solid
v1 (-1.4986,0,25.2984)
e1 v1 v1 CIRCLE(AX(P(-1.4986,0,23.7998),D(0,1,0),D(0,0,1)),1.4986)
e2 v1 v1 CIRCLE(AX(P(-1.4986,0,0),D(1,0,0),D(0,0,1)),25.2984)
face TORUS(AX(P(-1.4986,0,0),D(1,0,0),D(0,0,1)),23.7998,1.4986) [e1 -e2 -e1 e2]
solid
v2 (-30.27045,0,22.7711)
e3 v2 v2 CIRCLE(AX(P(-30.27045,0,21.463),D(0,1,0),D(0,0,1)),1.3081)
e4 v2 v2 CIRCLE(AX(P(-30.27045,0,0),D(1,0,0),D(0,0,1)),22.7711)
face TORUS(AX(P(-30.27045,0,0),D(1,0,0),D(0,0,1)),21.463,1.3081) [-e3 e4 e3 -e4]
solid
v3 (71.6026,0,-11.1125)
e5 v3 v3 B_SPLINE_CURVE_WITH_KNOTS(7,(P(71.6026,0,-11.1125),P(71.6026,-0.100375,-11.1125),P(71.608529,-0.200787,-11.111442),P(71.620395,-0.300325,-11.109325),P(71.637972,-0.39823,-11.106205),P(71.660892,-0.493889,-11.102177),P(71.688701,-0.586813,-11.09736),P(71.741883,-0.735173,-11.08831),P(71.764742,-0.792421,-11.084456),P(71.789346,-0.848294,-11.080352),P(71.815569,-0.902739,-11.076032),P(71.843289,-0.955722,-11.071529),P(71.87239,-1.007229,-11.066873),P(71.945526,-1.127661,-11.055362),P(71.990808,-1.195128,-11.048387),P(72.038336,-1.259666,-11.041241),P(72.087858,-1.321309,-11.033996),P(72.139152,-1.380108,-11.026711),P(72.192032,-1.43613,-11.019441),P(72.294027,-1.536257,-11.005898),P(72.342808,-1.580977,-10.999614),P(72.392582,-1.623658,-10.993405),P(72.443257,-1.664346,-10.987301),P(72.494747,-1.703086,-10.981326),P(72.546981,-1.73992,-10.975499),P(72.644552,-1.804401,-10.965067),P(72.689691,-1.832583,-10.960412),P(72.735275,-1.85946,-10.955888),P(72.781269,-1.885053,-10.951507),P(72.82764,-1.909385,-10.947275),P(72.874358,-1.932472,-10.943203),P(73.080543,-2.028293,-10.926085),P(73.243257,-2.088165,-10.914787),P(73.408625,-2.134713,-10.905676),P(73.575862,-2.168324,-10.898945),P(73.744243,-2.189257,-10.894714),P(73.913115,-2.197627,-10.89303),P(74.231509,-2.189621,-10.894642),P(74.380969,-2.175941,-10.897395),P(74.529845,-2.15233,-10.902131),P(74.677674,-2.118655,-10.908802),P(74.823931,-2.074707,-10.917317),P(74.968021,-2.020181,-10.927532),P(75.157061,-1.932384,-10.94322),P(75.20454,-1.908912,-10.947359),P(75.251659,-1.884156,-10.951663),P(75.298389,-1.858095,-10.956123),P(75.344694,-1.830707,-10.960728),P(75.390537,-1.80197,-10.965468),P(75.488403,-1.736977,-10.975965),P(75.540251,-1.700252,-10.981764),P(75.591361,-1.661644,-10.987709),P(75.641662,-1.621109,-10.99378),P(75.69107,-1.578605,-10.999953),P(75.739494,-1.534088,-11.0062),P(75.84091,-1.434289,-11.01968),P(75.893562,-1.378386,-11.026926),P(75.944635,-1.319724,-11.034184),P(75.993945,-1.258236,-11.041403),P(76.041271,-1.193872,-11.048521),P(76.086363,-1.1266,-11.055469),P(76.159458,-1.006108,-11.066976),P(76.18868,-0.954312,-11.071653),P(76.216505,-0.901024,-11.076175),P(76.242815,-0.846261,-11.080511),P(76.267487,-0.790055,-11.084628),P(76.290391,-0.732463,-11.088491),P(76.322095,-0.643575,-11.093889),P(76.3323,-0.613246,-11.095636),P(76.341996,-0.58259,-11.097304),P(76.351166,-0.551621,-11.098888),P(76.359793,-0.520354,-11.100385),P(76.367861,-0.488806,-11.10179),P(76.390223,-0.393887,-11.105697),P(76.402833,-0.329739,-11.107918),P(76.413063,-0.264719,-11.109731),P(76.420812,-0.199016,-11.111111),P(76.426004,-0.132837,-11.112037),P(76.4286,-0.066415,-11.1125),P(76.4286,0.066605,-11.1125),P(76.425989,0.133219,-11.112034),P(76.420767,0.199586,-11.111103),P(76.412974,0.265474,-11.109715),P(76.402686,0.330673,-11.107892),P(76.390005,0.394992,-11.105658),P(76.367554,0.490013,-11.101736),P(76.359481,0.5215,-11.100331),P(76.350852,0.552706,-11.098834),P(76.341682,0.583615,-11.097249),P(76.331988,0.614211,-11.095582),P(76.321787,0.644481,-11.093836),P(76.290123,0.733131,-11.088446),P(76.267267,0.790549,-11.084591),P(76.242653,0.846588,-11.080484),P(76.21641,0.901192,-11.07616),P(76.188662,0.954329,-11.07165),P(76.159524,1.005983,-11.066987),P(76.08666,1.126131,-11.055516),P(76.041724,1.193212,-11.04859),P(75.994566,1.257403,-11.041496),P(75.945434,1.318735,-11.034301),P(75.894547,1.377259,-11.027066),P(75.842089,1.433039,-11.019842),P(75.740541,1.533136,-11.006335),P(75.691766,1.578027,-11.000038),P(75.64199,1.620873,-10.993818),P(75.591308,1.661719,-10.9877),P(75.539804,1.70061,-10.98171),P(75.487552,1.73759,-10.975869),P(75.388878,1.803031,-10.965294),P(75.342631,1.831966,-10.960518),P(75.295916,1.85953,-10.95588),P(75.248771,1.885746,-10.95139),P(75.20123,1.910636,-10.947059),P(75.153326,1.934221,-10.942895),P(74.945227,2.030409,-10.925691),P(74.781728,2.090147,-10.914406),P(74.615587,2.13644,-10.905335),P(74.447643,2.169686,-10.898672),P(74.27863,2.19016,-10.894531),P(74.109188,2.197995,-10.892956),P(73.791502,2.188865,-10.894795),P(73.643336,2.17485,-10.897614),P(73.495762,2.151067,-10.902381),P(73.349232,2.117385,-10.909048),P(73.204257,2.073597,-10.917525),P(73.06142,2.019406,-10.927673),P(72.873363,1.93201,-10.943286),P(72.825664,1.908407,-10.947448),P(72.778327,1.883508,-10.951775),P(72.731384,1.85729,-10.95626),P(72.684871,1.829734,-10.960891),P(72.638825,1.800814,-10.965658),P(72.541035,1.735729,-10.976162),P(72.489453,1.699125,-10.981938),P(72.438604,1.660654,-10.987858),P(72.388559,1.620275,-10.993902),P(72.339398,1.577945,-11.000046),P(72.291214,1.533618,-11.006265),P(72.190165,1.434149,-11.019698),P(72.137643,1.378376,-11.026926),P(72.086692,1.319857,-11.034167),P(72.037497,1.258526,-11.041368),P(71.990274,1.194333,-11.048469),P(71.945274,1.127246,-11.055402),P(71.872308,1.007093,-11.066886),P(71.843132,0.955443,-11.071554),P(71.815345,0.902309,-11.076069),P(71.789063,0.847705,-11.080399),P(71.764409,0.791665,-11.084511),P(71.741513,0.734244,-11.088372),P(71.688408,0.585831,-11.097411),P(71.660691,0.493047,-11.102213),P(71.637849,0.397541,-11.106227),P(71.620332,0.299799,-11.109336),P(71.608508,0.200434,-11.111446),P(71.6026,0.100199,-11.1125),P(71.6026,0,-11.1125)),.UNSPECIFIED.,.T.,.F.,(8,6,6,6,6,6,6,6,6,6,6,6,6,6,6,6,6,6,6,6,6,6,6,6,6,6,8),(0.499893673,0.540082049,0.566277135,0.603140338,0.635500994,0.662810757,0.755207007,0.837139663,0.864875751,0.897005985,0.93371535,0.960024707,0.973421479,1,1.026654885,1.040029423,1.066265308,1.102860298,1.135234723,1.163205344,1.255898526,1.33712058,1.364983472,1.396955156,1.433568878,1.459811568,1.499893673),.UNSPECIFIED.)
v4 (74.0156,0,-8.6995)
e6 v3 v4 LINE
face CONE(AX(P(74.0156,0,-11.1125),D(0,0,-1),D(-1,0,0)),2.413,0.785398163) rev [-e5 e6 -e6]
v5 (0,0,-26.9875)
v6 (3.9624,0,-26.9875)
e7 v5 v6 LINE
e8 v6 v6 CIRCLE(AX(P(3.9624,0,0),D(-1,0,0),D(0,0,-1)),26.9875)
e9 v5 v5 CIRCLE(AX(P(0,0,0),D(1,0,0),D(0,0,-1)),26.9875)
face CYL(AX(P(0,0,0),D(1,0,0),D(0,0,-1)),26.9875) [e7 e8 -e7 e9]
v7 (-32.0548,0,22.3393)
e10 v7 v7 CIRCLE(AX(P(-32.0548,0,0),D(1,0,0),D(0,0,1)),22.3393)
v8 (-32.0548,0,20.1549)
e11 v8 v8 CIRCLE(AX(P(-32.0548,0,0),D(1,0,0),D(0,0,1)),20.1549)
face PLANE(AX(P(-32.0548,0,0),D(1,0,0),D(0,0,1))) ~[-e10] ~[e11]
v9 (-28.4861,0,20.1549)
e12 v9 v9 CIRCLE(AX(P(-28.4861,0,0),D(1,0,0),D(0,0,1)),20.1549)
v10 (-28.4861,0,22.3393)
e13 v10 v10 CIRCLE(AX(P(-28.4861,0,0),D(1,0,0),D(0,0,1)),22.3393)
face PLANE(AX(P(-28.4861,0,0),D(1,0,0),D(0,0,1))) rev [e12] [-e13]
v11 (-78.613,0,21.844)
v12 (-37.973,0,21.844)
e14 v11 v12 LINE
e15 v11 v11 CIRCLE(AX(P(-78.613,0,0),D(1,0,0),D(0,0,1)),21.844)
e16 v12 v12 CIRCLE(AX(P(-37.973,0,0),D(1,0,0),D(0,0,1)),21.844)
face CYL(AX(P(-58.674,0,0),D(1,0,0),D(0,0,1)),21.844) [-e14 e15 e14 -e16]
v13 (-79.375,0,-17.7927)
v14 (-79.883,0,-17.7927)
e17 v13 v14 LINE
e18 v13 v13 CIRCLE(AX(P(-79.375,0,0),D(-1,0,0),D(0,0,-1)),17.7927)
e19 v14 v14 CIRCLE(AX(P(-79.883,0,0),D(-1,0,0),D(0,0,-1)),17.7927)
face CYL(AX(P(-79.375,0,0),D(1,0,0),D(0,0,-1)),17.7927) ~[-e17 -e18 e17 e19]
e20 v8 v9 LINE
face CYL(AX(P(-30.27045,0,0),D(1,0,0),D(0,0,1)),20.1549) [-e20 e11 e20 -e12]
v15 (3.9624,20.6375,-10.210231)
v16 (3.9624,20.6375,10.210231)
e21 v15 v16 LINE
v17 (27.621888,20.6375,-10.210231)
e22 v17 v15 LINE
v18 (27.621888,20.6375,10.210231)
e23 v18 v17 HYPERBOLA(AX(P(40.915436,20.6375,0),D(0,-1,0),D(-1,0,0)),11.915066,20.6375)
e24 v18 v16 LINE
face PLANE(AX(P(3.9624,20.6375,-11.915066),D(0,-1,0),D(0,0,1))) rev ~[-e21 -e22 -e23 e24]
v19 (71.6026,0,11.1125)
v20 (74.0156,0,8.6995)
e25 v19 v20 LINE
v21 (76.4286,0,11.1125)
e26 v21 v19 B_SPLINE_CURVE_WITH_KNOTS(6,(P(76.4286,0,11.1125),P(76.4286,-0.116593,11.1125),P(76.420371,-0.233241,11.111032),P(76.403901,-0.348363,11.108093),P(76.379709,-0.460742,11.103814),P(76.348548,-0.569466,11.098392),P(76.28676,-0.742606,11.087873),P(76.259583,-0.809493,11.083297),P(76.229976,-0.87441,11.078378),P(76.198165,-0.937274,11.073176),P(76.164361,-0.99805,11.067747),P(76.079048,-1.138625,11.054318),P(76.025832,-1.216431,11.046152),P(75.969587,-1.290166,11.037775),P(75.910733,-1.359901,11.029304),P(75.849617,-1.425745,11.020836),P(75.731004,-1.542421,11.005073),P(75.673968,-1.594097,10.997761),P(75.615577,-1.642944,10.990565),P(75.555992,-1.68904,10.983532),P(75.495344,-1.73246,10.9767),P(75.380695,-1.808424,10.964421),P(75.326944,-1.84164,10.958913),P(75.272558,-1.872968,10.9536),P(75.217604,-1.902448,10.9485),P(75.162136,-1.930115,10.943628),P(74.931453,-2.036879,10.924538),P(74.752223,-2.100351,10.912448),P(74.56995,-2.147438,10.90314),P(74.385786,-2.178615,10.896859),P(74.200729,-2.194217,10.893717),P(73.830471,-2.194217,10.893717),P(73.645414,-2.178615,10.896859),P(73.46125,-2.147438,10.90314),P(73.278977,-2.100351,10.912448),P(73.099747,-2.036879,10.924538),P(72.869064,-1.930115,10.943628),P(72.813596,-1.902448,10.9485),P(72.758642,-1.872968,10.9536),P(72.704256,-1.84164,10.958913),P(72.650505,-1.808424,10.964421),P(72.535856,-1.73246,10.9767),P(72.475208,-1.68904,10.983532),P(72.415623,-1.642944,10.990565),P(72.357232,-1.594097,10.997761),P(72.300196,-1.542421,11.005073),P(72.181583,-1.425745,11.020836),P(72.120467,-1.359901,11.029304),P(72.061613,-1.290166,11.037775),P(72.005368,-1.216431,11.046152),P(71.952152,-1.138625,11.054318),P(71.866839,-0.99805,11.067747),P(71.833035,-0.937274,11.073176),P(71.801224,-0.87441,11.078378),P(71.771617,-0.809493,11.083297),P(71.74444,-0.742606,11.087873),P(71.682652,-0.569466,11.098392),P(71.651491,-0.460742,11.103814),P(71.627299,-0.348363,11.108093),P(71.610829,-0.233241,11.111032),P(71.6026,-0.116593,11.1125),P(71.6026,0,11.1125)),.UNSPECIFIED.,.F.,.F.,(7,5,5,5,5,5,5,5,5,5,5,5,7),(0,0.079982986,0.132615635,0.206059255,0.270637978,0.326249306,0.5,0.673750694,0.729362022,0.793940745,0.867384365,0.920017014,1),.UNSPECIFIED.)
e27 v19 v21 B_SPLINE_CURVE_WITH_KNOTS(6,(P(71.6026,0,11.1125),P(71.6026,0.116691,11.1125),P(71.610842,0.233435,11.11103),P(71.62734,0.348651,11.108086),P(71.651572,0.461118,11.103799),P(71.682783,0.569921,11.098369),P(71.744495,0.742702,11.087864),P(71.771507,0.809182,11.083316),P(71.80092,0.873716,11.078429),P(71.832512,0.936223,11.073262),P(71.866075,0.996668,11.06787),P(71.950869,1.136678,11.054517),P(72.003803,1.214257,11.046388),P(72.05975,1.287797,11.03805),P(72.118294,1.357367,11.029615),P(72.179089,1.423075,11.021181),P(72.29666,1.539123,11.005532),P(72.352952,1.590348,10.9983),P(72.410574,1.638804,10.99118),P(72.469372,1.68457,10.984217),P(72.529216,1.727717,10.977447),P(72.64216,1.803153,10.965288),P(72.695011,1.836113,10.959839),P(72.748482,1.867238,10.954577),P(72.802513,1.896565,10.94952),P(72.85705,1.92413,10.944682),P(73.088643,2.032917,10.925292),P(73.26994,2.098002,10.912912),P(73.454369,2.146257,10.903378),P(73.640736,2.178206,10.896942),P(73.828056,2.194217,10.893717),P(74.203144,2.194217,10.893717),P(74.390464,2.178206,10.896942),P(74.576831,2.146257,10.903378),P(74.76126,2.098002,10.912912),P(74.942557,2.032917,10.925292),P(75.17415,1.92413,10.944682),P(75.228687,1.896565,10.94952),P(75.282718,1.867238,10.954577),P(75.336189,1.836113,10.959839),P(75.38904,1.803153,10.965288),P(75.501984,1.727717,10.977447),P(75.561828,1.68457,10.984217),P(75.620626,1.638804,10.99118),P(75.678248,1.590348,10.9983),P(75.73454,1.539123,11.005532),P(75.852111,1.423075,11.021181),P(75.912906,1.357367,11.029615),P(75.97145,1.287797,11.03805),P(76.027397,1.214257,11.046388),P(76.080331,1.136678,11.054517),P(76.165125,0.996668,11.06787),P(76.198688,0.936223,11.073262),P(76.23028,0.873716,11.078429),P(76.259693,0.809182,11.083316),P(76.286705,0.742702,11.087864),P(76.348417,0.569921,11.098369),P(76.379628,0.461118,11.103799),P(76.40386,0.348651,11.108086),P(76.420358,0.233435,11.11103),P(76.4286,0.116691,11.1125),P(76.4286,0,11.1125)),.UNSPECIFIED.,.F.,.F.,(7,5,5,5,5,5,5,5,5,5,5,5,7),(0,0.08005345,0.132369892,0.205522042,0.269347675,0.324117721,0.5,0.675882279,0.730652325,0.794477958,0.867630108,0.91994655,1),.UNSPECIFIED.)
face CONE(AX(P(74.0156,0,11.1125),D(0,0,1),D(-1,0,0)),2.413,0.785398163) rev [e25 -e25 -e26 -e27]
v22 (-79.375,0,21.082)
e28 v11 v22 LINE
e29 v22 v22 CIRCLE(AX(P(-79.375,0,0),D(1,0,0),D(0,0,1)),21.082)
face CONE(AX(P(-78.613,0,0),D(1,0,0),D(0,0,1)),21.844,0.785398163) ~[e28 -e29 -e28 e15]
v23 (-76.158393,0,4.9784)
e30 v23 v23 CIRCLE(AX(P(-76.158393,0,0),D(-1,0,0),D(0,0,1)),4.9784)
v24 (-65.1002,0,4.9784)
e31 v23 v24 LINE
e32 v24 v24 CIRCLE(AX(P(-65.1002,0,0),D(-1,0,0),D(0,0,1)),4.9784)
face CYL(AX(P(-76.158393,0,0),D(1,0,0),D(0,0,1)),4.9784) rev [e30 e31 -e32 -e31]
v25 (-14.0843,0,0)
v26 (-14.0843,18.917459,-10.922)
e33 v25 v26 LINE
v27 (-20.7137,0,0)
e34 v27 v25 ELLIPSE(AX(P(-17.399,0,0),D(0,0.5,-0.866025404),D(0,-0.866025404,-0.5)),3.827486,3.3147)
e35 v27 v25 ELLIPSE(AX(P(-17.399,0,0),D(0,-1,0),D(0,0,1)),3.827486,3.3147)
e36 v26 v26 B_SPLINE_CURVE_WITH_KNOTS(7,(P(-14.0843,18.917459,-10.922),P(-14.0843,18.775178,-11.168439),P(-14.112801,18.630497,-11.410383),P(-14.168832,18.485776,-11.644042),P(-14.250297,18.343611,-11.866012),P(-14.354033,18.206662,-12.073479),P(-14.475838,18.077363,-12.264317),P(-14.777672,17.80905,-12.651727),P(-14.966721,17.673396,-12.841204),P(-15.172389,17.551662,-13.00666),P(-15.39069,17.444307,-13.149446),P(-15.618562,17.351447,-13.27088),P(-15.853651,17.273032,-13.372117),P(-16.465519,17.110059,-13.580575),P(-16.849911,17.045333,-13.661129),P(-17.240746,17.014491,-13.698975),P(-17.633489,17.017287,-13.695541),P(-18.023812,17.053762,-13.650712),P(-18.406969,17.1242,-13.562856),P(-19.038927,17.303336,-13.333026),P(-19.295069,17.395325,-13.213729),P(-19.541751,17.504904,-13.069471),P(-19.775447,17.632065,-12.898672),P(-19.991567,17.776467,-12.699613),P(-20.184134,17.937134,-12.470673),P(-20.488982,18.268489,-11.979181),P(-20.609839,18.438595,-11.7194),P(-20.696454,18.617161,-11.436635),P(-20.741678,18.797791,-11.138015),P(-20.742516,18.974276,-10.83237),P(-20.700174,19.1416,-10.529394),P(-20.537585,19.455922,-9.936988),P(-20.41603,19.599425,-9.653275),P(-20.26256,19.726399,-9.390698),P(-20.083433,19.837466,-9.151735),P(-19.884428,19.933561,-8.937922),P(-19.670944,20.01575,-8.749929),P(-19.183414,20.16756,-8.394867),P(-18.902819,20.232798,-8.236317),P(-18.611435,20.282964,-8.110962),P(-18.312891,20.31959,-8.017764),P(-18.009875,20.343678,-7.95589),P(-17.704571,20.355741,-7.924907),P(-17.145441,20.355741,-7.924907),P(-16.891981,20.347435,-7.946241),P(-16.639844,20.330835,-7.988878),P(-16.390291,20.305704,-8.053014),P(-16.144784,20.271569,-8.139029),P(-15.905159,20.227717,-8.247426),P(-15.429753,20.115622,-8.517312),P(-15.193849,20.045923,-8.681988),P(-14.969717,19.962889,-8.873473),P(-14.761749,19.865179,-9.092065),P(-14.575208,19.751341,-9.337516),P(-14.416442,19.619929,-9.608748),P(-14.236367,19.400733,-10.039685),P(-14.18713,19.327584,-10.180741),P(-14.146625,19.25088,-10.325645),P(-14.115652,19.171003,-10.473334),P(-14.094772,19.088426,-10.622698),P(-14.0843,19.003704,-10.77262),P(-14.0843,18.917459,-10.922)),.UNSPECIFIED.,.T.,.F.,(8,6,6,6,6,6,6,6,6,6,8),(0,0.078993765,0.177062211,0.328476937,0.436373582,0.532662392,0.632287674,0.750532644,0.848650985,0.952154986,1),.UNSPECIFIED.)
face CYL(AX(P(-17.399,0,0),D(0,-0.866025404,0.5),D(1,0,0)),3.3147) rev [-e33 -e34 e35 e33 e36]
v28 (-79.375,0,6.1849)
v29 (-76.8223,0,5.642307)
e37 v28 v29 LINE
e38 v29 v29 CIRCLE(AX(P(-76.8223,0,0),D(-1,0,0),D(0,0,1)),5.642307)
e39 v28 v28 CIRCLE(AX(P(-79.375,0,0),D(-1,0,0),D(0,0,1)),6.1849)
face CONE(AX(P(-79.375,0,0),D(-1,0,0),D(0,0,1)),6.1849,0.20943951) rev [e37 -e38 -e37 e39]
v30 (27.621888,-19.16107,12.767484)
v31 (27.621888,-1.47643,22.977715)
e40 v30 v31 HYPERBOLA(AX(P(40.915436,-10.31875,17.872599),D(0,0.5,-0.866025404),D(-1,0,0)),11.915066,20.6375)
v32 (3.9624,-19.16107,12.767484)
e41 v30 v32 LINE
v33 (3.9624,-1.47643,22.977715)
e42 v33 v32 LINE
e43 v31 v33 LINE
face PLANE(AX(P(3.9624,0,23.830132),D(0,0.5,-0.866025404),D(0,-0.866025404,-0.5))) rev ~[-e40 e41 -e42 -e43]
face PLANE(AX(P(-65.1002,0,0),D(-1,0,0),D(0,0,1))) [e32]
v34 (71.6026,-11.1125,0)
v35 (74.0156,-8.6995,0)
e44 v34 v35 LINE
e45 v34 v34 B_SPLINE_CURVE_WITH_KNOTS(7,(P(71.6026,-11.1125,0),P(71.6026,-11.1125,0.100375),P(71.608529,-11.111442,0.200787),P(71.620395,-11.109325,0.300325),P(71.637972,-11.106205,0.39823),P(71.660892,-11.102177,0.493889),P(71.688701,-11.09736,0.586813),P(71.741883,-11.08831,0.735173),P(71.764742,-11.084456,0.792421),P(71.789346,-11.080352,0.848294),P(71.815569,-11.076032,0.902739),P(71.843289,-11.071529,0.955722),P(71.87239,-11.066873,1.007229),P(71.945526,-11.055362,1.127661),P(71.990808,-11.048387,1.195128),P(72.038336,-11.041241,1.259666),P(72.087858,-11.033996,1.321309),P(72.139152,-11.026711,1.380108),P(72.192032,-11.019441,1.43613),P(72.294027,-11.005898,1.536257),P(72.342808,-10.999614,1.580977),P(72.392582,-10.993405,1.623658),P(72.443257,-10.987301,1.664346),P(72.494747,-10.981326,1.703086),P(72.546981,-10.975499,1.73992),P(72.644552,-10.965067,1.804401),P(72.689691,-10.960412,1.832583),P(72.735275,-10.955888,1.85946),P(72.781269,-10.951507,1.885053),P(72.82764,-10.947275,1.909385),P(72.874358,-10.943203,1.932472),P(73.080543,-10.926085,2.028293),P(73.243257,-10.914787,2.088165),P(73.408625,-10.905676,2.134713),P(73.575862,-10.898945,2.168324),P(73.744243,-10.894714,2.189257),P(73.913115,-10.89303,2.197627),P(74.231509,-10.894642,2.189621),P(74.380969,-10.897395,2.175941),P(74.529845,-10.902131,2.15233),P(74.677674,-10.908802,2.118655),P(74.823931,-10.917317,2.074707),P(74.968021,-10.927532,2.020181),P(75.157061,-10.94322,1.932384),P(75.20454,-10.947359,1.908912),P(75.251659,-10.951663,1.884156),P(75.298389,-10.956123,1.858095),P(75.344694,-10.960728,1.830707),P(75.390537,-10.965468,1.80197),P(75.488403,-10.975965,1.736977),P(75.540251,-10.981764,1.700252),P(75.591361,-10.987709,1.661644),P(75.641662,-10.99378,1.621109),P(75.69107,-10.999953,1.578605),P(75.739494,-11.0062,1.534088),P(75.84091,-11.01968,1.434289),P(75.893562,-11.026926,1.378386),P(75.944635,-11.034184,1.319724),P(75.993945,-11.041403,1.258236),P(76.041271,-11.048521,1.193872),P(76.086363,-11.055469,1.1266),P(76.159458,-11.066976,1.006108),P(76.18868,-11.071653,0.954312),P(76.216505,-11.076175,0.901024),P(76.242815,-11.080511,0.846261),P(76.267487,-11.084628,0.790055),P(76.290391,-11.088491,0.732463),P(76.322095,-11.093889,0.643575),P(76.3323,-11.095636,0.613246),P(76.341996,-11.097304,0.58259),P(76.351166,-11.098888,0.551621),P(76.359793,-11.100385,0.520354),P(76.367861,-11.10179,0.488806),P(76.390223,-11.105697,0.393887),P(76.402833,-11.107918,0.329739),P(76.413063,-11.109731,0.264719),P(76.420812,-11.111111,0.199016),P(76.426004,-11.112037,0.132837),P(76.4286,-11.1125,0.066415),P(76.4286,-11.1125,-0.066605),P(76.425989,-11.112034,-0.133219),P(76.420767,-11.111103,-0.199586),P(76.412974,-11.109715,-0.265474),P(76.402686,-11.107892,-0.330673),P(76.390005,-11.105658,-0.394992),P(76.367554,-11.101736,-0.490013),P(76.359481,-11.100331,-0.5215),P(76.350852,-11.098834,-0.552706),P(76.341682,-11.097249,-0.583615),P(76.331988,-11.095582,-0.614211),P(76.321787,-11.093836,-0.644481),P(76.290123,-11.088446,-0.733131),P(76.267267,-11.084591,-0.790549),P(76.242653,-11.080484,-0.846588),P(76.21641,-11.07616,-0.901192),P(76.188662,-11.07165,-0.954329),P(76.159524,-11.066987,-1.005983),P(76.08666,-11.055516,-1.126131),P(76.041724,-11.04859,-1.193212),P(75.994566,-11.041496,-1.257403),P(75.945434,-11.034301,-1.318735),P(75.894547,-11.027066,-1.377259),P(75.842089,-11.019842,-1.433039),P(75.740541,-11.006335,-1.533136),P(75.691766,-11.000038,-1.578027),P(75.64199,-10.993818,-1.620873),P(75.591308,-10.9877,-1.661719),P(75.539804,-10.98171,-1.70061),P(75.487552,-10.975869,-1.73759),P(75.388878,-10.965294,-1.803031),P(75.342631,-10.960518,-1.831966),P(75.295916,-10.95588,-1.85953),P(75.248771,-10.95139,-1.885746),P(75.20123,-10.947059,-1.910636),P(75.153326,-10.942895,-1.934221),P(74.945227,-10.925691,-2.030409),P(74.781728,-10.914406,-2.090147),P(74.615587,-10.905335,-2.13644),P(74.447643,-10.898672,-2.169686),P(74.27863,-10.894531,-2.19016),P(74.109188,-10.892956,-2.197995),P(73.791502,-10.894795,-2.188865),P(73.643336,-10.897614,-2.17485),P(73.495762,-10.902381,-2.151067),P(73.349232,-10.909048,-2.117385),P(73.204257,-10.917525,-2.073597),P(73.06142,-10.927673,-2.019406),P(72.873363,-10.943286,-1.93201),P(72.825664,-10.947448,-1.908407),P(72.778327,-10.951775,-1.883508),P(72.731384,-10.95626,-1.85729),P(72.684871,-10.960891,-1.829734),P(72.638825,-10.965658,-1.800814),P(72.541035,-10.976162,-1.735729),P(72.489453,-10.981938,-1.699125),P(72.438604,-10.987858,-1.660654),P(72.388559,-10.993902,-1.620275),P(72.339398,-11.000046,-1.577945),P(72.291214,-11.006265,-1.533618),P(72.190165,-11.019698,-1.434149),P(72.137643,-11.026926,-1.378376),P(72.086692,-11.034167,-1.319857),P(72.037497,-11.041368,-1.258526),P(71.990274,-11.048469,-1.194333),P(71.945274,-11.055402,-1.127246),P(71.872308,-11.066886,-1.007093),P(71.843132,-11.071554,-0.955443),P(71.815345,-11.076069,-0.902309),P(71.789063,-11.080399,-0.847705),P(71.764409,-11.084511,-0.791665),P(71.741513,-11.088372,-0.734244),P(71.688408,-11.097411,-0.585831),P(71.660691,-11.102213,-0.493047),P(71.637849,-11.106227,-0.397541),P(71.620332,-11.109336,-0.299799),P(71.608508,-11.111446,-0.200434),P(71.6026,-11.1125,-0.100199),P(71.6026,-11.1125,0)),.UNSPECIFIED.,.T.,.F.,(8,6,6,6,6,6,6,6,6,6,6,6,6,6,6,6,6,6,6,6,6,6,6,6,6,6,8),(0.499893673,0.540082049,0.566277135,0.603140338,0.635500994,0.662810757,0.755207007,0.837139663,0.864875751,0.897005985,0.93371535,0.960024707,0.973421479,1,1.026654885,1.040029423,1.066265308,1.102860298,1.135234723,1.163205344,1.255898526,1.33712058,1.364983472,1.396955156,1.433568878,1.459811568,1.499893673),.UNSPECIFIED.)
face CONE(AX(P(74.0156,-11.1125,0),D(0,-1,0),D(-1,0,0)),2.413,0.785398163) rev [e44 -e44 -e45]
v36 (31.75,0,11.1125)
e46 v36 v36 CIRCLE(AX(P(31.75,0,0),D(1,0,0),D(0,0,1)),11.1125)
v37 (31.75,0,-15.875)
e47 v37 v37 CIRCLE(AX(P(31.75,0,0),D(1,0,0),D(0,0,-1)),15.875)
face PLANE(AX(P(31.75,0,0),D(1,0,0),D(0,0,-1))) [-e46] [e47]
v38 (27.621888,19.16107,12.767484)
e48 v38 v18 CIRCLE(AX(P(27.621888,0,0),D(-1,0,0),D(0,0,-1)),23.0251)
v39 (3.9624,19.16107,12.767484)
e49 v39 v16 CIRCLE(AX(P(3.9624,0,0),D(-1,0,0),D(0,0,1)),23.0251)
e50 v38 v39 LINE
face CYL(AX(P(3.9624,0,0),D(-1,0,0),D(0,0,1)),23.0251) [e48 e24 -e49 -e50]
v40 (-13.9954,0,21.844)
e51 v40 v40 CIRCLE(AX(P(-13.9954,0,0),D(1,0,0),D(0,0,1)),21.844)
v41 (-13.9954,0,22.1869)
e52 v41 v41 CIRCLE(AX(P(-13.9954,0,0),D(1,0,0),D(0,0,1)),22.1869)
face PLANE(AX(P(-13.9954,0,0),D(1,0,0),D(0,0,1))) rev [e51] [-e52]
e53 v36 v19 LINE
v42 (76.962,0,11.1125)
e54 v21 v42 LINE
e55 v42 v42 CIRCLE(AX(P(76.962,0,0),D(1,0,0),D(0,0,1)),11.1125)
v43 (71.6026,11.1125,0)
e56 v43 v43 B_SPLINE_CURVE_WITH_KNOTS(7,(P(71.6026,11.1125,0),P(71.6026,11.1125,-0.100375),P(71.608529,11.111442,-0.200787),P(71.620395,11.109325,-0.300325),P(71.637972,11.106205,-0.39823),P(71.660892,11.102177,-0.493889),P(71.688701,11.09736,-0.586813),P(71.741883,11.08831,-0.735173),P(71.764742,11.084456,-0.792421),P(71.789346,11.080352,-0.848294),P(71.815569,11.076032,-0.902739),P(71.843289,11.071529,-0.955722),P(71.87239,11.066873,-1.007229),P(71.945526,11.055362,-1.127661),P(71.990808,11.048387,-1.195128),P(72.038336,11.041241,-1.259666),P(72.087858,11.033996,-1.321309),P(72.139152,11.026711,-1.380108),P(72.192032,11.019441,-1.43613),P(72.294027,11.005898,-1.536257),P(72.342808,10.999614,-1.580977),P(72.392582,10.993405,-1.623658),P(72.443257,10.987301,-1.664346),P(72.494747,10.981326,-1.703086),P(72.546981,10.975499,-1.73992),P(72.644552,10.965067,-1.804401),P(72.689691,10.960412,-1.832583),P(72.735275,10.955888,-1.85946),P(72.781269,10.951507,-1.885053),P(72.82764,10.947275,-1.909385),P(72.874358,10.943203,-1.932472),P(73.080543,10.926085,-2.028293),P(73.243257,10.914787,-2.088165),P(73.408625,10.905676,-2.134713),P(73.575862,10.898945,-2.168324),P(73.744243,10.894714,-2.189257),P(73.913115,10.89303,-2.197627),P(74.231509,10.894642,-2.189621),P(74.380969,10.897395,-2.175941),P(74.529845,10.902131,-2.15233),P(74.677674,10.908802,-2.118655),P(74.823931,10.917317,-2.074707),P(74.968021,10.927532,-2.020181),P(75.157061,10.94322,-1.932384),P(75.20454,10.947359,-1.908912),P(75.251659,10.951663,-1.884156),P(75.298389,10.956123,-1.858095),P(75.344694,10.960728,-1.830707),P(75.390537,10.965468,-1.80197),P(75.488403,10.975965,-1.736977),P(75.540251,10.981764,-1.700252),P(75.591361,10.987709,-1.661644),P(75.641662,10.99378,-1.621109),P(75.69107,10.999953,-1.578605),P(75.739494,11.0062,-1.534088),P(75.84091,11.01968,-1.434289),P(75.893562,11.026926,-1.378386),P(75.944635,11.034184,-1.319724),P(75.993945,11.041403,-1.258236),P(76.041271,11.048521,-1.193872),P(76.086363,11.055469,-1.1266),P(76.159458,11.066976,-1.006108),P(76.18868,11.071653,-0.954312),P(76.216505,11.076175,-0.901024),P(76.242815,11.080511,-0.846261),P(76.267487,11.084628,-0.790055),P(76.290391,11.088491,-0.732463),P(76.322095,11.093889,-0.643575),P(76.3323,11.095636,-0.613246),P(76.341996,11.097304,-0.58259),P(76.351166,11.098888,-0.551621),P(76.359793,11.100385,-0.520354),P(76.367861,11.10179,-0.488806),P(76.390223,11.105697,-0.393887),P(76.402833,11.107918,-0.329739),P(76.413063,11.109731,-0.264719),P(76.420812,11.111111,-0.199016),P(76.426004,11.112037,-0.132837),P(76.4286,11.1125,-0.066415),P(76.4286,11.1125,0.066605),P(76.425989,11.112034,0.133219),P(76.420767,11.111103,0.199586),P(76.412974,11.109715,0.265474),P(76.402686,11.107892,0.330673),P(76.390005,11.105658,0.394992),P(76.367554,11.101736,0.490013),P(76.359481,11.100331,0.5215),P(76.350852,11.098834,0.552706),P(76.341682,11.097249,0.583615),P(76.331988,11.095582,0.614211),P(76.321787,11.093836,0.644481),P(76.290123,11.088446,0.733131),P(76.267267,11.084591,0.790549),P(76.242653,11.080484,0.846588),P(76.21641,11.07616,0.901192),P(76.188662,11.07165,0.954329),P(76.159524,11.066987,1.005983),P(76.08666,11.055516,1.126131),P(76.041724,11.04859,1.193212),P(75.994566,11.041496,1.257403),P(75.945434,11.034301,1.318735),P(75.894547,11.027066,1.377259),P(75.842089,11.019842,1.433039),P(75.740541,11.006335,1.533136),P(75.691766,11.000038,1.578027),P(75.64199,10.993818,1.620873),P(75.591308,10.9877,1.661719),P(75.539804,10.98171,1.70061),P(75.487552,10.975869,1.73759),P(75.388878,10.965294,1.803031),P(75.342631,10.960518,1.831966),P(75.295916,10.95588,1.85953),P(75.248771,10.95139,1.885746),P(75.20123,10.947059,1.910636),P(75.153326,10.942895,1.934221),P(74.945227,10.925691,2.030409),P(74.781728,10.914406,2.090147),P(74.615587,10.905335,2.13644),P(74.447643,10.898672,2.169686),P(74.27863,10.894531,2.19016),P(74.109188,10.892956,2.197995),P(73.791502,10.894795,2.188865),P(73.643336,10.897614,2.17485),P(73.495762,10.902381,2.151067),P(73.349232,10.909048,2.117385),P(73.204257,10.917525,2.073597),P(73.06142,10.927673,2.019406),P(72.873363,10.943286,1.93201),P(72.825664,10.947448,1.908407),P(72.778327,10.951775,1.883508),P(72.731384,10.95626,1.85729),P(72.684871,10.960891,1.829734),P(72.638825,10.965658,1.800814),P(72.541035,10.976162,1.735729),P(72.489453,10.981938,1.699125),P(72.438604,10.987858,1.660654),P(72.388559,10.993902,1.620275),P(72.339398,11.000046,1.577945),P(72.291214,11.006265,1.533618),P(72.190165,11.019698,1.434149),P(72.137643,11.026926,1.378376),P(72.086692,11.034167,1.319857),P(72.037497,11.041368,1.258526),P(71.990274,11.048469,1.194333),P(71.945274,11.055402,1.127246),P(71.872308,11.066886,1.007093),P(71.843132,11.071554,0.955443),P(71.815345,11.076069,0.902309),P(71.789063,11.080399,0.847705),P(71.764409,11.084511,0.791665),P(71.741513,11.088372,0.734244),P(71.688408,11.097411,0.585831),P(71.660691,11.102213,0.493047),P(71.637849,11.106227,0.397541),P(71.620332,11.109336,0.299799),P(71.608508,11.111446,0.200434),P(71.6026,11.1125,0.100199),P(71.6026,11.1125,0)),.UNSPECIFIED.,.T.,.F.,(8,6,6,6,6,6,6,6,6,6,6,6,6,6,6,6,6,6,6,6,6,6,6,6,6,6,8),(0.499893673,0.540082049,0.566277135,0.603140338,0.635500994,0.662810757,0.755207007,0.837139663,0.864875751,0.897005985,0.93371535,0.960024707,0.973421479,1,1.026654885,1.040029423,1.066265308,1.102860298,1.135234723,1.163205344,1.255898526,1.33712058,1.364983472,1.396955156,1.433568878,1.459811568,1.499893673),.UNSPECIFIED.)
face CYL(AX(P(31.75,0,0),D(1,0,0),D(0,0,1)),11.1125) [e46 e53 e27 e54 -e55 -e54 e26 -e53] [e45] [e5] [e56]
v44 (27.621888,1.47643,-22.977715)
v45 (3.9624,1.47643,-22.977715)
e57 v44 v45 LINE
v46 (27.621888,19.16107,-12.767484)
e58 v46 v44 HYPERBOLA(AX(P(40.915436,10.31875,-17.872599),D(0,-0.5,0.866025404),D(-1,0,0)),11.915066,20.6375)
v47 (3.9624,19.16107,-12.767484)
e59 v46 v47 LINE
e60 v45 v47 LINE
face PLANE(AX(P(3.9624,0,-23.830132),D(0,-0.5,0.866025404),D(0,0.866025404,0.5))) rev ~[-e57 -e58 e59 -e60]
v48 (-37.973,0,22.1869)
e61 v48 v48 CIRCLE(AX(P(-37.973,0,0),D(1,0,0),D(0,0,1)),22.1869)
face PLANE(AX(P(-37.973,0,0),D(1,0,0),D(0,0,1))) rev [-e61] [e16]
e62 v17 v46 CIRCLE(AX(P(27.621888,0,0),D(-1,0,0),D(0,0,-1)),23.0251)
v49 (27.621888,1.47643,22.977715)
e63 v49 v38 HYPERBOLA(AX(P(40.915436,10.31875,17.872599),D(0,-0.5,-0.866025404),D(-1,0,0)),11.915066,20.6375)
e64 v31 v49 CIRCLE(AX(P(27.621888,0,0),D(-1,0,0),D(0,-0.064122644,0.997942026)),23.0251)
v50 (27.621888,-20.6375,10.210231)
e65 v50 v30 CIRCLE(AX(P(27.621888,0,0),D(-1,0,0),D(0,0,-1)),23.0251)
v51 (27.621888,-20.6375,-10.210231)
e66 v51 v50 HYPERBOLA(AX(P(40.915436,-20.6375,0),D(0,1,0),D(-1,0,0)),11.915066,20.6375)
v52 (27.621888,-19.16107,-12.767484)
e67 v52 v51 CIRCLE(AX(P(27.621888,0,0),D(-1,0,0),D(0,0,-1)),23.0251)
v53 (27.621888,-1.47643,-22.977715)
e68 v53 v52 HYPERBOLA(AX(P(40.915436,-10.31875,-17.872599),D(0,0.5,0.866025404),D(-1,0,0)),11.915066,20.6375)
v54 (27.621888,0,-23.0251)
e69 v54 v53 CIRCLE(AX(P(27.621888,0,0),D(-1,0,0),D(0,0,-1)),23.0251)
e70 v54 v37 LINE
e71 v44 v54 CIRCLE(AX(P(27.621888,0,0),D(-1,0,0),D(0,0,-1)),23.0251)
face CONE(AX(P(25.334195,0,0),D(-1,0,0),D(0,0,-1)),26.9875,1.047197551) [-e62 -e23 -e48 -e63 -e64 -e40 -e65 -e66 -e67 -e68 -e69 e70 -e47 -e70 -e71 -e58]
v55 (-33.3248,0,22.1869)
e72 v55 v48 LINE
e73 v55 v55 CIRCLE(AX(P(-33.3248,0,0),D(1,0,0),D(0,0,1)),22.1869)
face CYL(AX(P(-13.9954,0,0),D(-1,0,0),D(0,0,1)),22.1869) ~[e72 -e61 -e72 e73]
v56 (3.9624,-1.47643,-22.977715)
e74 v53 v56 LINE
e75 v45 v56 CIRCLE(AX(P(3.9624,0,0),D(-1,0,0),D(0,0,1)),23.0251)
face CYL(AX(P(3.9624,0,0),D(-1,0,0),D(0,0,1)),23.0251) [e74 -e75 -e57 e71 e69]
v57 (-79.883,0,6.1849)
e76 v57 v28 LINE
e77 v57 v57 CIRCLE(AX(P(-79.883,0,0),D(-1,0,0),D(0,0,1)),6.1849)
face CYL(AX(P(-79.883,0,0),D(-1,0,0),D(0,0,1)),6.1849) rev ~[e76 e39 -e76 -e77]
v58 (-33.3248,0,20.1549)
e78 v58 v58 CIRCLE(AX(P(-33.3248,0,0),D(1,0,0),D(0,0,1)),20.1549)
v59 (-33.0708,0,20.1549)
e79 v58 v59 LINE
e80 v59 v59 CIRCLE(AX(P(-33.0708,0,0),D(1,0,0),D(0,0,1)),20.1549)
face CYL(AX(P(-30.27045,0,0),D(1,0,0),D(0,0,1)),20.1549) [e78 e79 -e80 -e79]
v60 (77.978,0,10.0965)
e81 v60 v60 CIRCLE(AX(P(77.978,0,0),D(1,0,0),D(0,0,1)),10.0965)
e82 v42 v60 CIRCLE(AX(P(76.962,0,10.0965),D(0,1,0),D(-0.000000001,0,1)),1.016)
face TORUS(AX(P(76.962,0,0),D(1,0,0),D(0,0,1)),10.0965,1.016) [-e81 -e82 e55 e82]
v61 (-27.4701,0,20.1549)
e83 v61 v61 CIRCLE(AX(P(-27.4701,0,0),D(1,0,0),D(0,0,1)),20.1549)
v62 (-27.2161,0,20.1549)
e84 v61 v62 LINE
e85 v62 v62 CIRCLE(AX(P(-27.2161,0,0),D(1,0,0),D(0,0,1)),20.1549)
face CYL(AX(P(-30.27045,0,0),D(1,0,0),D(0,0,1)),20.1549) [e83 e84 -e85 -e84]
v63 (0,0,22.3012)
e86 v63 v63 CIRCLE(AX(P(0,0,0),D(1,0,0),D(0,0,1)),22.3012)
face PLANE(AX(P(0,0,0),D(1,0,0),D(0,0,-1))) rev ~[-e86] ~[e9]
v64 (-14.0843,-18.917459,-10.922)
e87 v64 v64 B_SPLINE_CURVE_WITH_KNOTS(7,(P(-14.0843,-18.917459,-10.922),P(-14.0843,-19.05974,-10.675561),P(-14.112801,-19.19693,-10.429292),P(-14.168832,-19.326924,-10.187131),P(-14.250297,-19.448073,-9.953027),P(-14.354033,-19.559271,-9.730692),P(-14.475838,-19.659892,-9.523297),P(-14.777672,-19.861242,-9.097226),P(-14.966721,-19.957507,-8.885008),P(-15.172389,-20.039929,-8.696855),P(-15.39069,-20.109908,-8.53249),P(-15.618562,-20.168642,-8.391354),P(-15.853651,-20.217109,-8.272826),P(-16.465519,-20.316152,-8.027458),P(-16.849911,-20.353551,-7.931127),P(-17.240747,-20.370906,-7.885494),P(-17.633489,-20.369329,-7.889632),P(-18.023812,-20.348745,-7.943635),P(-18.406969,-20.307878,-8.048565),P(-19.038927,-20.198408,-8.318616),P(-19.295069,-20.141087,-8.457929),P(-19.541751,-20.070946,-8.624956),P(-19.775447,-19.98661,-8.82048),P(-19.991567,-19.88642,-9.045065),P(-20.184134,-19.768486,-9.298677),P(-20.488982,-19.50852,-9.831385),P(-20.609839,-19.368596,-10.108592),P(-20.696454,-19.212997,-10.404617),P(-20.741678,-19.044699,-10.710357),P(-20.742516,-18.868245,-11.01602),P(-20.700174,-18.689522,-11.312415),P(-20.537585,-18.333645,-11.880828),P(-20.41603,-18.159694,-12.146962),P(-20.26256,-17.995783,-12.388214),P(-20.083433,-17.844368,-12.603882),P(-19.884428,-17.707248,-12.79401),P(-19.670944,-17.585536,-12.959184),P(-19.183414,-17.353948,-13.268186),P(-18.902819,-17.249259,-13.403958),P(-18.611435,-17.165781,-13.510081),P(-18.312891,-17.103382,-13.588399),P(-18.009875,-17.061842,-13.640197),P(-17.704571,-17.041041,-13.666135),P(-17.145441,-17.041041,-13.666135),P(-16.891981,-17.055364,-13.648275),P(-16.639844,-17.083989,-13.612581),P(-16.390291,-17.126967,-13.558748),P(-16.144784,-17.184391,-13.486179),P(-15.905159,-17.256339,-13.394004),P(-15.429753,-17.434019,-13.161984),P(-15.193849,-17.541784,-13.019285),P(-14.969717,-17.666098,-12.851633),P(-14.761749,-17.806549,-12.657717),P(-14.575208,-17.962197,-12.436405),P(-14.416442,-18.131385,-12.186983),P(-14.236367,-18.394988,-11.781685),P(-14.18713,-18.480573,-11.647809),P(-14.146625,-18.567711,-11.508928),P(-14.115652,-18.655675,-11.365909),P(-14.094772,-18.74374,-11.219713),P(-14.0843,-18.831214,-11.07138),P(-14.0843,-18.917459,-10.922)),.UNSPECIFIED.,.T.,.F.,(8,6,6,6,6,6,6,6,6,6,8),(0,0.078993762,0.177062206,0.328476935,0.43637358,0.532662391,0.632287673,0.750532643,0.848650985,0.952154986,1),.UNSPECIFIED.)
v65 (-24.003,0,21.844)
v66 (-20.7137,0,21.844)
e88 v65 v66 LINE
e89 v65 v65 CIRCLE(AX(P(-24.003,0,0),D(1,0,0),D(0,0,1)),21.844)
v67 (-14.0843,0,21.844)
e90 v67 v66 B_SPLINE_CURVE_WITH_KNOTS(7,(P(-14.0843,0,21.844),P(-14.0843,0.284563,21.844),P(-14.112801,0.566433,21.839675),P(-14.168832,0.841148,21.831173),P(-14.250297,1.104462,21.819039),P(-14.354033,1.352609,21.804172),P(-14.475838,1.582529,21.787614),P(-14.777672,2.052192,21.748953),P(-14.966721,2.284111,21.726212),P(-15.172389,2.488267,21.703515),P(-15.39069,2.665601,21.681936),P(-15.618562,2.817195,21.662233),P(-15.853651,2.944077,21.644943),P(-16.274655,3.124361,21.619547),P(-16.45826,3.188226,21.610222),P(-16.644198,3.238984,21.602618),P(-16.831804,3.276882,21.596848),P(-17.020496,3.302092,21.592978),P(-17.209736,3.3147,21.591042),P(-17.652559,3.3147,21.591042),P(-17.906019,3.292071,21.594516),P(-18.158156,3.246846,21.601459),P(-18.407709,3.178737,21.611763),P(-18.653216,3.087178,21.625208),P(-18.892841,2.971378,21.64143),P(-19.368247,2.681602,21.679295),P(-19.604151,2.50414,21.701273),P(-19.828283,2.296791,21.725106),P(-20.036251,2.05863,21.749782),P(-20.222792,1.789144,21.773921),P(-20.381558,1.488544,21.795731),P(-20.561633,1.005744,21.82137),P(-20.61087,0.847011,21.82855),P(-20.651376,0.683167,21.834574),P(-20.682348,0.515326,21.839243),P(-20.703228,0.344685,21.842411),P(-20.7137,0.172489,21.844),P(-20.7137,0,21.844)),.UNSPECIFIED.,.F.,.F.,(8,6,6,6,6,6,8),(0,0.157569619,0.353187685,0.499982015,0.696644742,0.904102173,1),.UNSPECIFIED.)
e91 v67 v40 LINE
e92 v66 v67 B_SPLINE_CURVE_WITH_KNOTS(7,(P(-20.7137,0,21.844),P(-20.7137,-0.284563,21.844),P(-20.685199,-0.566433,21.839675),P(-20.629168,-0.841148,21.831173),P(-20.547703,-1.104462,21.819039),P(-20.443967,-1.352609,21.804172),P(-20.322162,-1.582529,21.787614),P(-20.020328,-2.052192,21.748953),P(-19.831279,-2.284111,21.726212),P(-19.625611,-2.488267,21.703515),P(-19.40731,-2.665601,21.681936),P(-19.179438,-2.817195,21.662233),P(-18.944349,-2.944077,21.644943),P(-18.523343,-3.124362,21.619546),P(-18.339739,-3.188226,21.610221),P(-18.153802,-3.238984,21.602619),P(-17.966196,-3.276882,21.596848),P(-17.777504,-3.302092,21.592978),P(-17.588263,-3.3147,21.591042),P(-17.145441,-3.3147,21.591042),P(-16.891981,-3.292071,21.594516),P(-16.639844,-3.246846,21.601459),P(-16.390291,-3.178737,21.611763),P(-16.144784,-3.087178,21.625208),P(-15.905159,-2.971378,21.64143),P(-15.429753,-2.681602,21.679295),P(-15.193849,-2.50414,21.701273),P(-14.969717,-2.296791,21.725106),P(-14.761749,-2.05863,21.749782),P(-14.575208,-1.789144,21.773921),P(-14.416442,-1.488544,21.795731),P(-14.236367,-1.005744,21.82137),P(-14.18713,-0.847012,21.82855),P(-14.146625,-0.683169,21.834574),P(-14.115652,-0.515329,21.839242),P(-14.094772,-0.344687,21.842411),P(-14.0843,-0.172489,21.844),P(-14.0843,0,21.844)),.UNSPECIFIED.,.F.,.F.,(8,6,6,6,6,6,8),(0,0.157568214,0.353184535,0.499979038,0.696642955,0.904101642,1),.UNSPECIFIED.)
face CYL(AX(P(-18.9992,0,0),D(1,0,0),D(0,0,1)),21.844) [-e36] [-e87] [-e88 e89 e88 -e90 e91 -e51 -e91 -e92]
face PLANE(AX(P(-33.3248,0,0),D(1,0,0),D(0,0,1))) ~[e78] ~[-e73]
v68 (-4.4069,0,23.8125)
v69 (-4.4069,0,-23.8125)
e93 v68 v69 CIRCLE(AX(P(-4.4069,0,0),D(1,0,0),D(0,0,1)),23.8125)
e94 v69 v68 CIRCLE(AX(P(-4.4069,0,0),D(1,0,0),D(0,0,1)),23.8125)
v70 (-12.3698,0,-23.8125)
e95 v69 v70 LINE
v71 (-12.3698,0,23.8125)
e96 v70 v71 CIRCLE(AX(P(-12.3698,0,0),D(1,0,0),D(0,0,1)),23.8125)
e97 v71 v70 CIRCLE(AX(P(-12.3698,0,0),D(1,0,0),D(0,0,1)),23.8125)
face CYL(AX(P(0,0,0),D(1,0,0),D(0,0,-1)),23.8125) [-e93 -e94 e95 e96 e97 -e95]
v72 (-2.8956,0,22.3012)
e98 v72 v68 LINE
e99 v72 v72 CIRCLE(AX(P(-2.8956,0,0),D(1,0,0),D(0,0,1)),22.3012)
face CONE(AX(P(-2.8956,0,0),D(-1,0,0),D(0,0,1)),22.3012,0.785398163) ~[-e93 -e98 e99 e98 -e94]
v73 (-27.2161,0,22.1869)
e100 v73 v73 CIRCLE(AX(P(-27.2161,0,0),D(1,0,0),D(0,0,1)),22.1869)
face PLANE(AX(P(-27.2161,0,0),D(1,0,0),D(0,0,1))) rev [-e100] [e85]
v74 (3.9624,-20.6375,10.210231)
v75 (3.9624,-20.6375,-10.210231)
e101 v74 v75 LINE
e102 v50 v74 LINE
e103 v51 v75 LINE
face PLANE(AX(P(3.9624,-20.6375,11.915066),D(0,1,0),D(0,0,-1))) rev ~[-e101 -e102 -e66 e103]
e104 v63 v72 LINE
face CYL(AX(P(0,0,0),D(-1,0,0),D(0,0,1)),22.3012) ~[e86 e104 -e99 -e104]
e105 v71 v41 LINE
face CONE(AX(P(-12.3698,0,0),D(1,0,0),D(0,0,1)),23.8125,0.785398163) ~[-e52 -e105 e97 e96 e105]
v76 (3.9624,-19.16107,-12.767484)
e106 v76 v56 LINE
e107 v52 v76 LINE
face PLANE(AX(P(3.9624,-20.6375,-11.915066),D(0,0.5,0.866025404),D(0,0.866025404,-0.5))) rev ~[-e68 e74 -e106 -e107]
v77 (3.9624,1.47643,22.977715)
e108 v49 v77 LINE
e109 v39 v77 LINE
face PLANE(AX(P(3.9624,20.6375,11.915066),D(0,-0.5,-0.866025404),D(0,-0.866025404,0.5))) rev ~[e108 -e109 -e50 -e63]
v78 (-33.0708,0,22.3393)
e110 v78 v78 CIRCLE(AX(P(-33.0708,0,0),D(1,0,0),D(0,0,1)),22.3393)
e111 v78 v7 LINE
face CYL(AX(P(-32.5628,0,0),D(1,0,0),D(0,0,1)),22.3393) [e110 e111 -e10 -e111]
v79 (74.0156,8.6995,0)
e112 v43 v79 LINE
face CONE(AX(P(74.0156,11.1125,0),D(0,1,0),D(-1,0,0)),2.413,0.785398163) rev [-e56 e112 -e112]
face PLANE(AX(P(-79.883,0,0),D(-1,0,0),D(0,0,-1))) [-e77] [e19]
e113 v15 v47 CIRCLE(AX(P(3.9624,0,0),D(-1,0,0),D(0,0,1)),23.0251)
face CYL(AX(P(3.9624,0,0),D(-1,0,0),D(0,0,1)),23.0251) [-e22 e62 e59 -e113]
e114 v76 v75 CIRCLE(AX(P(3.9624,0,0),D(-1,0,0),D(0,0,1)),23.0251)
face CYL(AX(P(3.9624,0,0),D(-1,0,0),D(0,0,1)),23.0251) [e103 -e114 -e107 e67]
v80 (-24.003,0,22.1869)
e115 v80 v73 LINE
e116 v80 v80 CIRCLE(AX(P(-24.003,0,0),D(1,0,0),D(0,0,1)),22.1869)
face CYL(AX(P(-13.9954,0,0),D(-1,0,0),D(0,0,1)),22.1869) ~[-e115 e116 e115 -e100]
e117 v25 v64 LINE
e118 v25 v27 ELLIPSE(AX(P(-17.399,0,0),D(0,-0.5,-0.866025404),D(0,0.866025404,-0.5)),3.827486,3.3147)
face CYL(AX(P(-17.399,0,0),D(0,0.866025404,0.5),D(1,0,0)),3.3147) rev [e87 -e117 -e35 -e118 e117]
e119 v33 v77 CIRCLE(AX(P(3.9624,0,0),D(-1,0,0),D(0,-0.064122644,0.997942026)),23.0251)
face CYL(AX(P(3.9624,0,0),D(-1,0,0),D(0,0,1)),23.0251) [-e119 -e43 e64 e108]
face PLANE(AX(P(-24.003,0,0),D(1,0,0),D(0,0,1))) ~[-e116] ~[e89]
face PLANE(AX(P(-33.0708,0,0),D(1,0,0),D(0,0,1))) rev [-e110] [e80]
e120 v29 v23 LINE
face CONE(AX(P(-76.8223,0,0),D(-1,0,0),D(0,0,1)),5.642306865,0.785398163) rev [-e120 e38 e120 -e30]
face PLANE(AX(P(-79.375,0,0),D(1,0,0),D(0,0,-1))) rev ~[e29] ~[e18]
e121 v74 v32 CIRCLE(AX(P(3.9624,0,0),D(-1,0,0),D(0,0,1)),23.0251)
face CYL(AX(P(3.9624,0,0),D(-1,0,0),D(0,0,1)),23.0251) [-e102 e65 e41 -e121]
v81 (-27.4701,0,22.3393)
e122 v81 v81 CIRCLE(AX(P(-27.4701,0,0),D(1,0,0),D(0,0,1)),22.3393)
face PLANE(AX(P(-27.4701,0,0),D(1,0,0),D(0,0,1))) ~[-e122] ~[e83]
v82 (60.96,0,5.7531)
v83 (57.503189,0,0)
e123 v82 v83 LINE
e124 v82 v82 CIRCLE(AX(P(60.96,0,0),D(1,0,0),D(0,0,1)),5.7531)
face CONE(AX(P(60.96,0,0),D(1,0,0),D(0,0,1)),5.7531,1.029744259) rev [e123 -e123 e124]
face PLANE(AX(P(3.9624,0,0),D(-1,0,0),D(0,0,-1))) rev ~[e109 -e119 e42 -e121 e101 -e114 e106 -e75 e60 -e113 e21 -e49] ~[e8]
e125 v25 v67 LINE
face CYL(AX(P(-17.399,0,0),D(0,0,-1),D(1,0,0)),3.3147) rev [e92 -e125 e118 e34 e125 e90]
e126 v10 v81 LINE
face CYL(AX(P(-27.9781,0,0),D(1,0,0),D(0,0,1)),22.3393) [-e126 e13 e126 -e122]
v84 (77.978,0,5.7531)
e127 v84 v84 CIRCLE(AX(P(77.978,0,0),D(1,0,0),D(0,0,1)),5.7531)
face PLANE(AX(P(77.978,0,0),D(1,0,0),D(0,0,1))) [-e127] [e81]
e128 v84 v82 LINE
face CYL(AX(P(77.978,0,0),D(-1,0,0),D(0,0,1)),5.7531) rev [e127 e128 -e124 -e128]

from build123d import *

# Parameters (mm, degrees)
SKETCH1_R           = 26.9875
EXTRUDE1_DEPTH      = 31.75
EXTRUDE1_DEPTH_BACK = 79.375
CUT_EXTRUDE1_REACH  = 81.375
SKETCH2_R           = 26.9875
SKETCH2_R_2         = 23.8125
CUT_EXTRUDE3_REACH  = 31.362
CUT_EXTRUDE3_START  = -0.7874
SKETCH5_R           = 26.9875
CUT_EXTRUDE5_REACH  = 29.788
SKETCH7_R           = 26.9875
SKETCH7_R_2         = 23.0251
SKETCH12_W          = 6.1087
SKETCH12_H          = 2.032
SKETCH14_W          = 0.3429
SKETCH14_H          = 41.402
SKETCH14_H_2        = 10.0076
SKETCH15_R          = 1.4986
SKETCH16_W          = 2.1844
SKETCH16_H          = 1.016
SKETCH17_R          = 1.3081
CIRPATTERN1_COUNT   = 4
CHAMFER1_SIZE       = 0.762
SKETCH23_R          = 3.3147
CUT_EXTRUDE7_DEPTH  = 27.9875
SKETCH26_R          = 17.7927
EXTRUDE2_DEPTH      = 0.508
SKETCH27_R          = 6.1849
CUT_EXTRUDE8_DEPTH  = 0.508
CIRPATTERN2_COUNT   = 3


with BuildPart() as part:
    # Sketch1 → Extrude1 (new body, two sides)
    with BuildSketch(Plane(origin=(0, 0, 0), x_dir=(0, 0, -1), z_dir=(1, 0, 0))) as extrude1_sk:
        Circle(SKETCH1_R)
    extrude(amount=EXTRUDE1_DEPTH)
    extrude(extrude1_sk.sketch, amount=-EXTRUDE1_DEPTH_BACK)

    # Sketch2 → Cut-Extrude1 (cut, up to next)
    with BuildSketch(Plane(origin=(0, 0, 0), x_dir=(0, 0, -1), z_dir=(1, 0, 0)), mode=Mode.PRIVATE) as cut_extrude1_sk1:
        Circle(SKETCH2_R)
        Circle(SKETCH2_R_2, mode=Mode.SUBTRACT)
    cut_extrude1_tool1 = extrude(cut_extrude1_sk1.sketch, amount=-CUT_EXTRUDE1_REACH, mode=Mode.PRIVATE) & part.part
    add(cut_extrude1_tool1.solids().sort_by_distance((0, 0, 26.224178))[0], mode=Mode.SUBTRACT)

    # Sketch3 → Cut-Revolve1 (revolve, cut)
    with BuildSketch(Plane.XY, mode=Mode.PRIVATE) as cut_revolve1_sk:
        Polygon((25.334195134, 26.9875), (31.75, 15.875), (31.75, 26.9875), align=None)
    revolve(cut_revolve1_sk.sketch.rotate(Axis((-8.14577342, 0, 0), (1, 0, 0)), 270), axis=Axis((-8.14577342, 0, 0), (1, 0, 0)), mode=Mode.SUBTRACT)  # turned: the seam where the file's is

    # Cut-Extrude3: up to this cone (the profile starts inside it)
    cut_extrude3_end = Plane(origin=(3.9624, 0, 0), z_dir=(-1, 0, 0)).offset(-36.953034523) * Cone(1.732e-06, 230.050244421, 132.819569544, align=(Align.CENTER, Align.CENTER, Align.MIN), mode=Mode.PRIVATE)
    # Sketch5 → Cut-Extrude3 (cut, up to the surface)
    with BuildSketch(Plane.ZY.offset(-3.175).offset(CUT_EXTRUDE3_START), mode=Mode.PRIVATE) as cut_extrude3_sk1:
        with Locations(Location((0, 0, 0), (0, 0, 180))):  # turned: the seam where the file's is
            Circle(SKETCH5_R)
        Polygon((-11.91506618, 20.6375), (11.91506618, 20.6375), (23.830132361, 0), (11.91506618, -20.6375), (-11.91506618, -20.6375), (-23.830132361, 0), align=None, mode=Mode.SUBTRACT)
    cut_extrude3_tool1 = extrude(cut_extrude3_sk1.sketch, amount=-CUT_EXTRUDE3_REACH, mode=Mode.PRIVATE) & cut_extrude3_end
    add(cut_extrude3_tool1.solids().sort_by_distance((3.9624, 0, 26.224178))[0], mode=Mode.SUBTRACT)

    # Cut-Extrude5: up to this cone (the profile starts inside it)
    cut_extrude5_end = Plane(origin=(3.9624, 0, 0), z_dir=(-1, 0, 0)).offset(-36.953034523) * Cone(1.732e-06, 227.32399645, 131.245569544, align=(Align.CENTER, Align.CENTER, Align.MIN), mode=Mode.PRIVATE)
    # Sketch7 → Cut-Extrude5 (cut, up to the surface)
    with BuildSketch(Plane.ZY.offset(-3.9624), mode=Mode.PRIVATE) as cut_extrude5_sk1:
        with Locations(Location((0, 0, 0), (0, 0, 180))):  # turned: the seam where the file's is
            Circle(SKETCH7_R)
        Circle(SKETCH7_R_2, mode=Mode.SUBTRACT)
    cut_extrude5_tool1 = extrude(cut_extrude5_sk1.sketch, amount=-CUT_EXTRUDE5_REACH, mode=Mode.PRIVATE) & cut_extrude5_end
    add(cut_extrude5_tool1.solids().sort_by_distance((3.9624, 0, 26.224178))[0], mode=Mode.SUBTRACT)

    # Sketch9 → Cut-Revolve3 (revolve, cut)
    with BuildSketch(Plane.XY, mode=Mode.PRIVATE) as cut_revolve3_sk:
        Polygon((0, 23.8125), (0, 22.3012), (-2.8956, 22.3012), (-4.4069, 23.8125), align=None)
    revolve(cut_revolve3_sk.sketch.rotate(Axis((-4.4205525, 0, 0), (1, 0, 0)), 90), axis=Axis((-4.4205525, 0, 0), (1, 0, 0)), mode=Mode.SUBTRACT)  # turned: the seam where the file's is

    # Sketch10 → Cut-Revolve4 (revolve, cut)
    with BuildSketch(Plane.XY, mode=Mode.PRIVATE) as cut_revolve4_sk:
        Polygon((-12.3698, 23.8125), (-13.9954, 22.1869), (-79.375, 22.1869), (-79.375, 23.8125), align=None)
    revolve(cut_revolve4_sk.sketch.rotate(Axis((-55.9469925, 0, 0), (1, 0, 0)), 90), axis=Axis((-55.9469925, 0, 0), (1, 0, 0)), mode=Mode.SUBTRACT)  # turned: the seam where the file's is

    # Sketch12 → Cut-Revolve6 (revolve, cut)
    with BuildSketch(Plane.XY, mode=Mode.PRIVATE) as cut_revolve6_sk:
        with Locations((-30.27045, 21.1709)):
            Rectangle(SKETCH12_W, SKETCH12_H)
    revolve(cut_revolve6_sk.sketch.rotate(Axis((-31.750635, 0, 0), (1, 0, 0)), 90), axis=Axis((-31.750635, 0, 0), (1, 0, 0)), mode=Mode.SUBTRACT)  # turned: the seam where the file's is

    # Sketch14 → Cut-Revolve8 (revolve, cut)
    with BuildSketch(Plane(origin=(0, 0, 0), x_dir=(0, -1, 0), z_dir=(0, 0, 1)), mode=Mode.PRIVATE) as cut_revolve8_sk:
        with Locations((22.01545, -58.674)):
            Rectangle(SKETCH14_W, SKETCH14_H)
        with Locations((22.01545, -18.9992)):
            Rectangle(SKETCH14_W, SKETCH14_H_2)
    revolve(cut_revolve8_sk.sketch.rotate(Axis((-55.86603, 0, 0), (1, 0, 0)), 270), axis=Axis((-55.86603, 0, 0), (1, 0, 0)), mode=Mode.SUBTRACT)  # turned: the seam where the file's is

    # Sketch16 → Revolve2 (revolve)
    with BuildSketch(Plane(origin=(0, 0, 0), x_dir=(0, -1, 0), z_dir=(0, 0, 1)), mode=Mode.PRIVATE) as revolve2_sk:
        with Locations((21.2471, -27.9781)):
            Rectangle(SKETCH16_W, SKETCH16_H)
        with Locations((21.2471, -32.5628)):
            Rectangle(SKETCH16_W, SKETCH16_H)
    revolve(revolve2_sk.sketch.rotate(Axis((-31.471235, 0, 0), (1, 0, 0)), 270), axis=Axis((-31.471235, 0, 0), (1, 0, 0)))  # turned: the seam where the file's is

    # S2D0001 → Revolve4 (revolve)
    with BuildSketch(Plane(origin=(0, 0, 0), x_dir=(0, -1, 0), z_dir=(0, 0, 1)), mode=Mode.PRIVATE) as revolve4_sk:
        with BuildLine():
            Line((0, 31.75), (-11.1125, 31.75))
            Line((-11.1125, 31.75), (-11.1125, 76.962))
            ThreePointArc((-11.1125, 76.962), (-10.81492049, 77.68042049), (-10.0965, 77.978))
            Line((-10.0965, 77.978), (0, 77.978))
            Line((0, 77.978), (0, 31.75))
        make_face()
    revolve(revolve4_sk.sketch.rotate(Axis((7.265766347, 0, 0), (1, 0, 0)), 90), axis=Axis((7.265766347, 0, 0), (1, 0, 0)))  # turned: the seam where the file's is

    # Sketch19 → Cut-Revolve9 (revolve, cut)
    with BuildSketch(Plane(origin=(36.322, -2.8067, 0), x_dir=(0, -1, 0), z_dir=(0, 0, 1)), mode=Mode.PRIVATE) as cut_revolve9_sk:
        Polygon((2.9464, 41.656), (2.9464, 24.638), (-2.8067, 21.181188773), (-2.8067, 41.656), align=None)
    revolve(cut_revolve9_sk.sketch.rotate(Axis((17.699325537, 0, 0), (1, 0, 0)), 270), axis=Axis((17.699325537, 0, 0), (1, 0, 0)), mode=Mode.SUBTRACT)  # turned: the seam where the file's is

    # S2D0002 → Cut-Revolve10 (revolve, cut)
    with BuildSketch(Plane(origin=(32.3596, 0, -5.55625), x_dir=(1, 0, 0), z_dir=(0, 1, 0)), mode=Mode.PRIVATE) as cut_revolve10_sk:
        Polygon((41.656, 5.55625), (44.069, 5.55625), (41.656, 3.14325), align=None)
    cut_revolve10 = revolve(cut_revolve10_sk.sketch.rotate(Axis((74.0156, 0, -2.191027232), (0, 0, -1)), 180), axis=Axis((74.0156, 0, -2.191027232), (0, 0, -1)), mode=Mode.SUBTRACT)  # turned: the seam where the file's is

    # CirPattern1: Cut-Revolve10 ×4 about axis
    cirpattern1_axis = Axis((7.265766347, 0, 0), (-1, 0, 0))
    for i in range(1, CIRPATTERN1_COUNT):
        add(cut_revolve10.rotate(cirpattern1_axis, i * 360 / CIRPATTERN1_COUNT), mode=Mode.SUBTRACT)

    # Chamfer1
    chamfer1_edges = [part.edges().sort_by_distance(p)[0] for p in [
        (-79.375, 0, -21.844),
    ]]
    chamfer(chamfer1_edges, length=CHAMFER1_SIZE)

    # Sketch23 → Cut-Extrude7 (cut, through all)
    with BuildSketch(Plane.XY):
        with Locations((-17.399, 0)):
            Circle(SKETCH23_R)
    cut_extrude7 = extrude(amount=CUT_EXTRUDE7_DEPTH, mode=Mode.SUBTRACT)

    # Sketch24 → Cut-Revolve11 (revolve, cut)
    with BuildSketch(Plane.XY, mode=Mode.PRIVATE) as cut_revolve11_sk:
        Polygon((-79.375, 6.1849), (-76.8223, 5.642306865), (-76.158393135, 4.9784), (-65.1002, 4.9784), (-65.1002, 0), (-79.375, 0), align=None)
    revolve(cut_revolve11_sk.sketch.rotate(Axis((0, 0, 0), (-1, 0, 0)), 270), axis=Axis((0, 0, 0), (-1, 0, 0)), mode=Mode.SUBTRACT)  # turned: the seam where the file's is

    # Sketch26 → Extrude2 (add)
    with BuildSketch(Plane.ZY.offset(79.375)):
        with Locations(Location((0, 0, 0), (0, 0, 180))):  # turned: the seam where the file's is
            Circle(SKETCH26_R)
    extrude(amount=EXTRUDE2_DEPTH)

    # Sketch27 → Cut-Extrude8 (cut)
    with BuildSketch(Plane.ZY.offset(79.883)):
        Circle(SKETCH27_R)
    extrude(amount=-CUT_EXTRUDE8_DEPTH, mode=Mode.SUBTRACT)

    # CirPattern2: Cut-Extrude7 ×3 about axis
    cirpattern2_axis = Axis((7.265766347, 0, 0), (-1, 0, 0))
    for i in range(1, CIRPATTERN2_COUNT):
        add(cut_extrude7.rotate(cirpattern2_axis, i * 360 / CIRPATTERN2_COUNT), mode=Mode.SUBTRACT)


with BuildPart() as body_2:
    # Sketch15 → Revolve1 (revolve)
    with BuildSketch(Plane(origin=(0, 0, 0), x_dir=(0, -1, 0), z_dir=(0, 0, 1)), mode=Mode.PRIVATE) as revolve1_sk:
        with Locations((23.7998, -1.4986)):
            Circle(SKETCH15_R)
    revolve(revolve1_sk.sketch.rotate(Axis((-3.09372, 0, 0), (1, 0, 0)), 270), axis=Axis((-3.09372, 0, 0), (1, 0, 0)))  # turned: the seam where the file's is


with BuildPart() as body_3:
    # Sketch17 → Revolve3 (revolve)
    with BuildSketch(Plane(origin=(0, 0, 0), x_dir=(0, -1, 0), z_dir=(0, 0, 1)), mode=Mode.PRIVATE) as revolve3_sk:
        with Locations((21.463, -30.27045)):
            Circle(SKETCH17_R)
    revolve(revolve3_sk.sketch.rotate(Axis((-31.750635, 0, 0), (1, 0, 0)), 270), axis=Axis((-31.750635, 0, 0), (1, 0, 0)))  # turned: the seam where the file's is


solid = Compound([part.part, body_2.part, body_3.part])
